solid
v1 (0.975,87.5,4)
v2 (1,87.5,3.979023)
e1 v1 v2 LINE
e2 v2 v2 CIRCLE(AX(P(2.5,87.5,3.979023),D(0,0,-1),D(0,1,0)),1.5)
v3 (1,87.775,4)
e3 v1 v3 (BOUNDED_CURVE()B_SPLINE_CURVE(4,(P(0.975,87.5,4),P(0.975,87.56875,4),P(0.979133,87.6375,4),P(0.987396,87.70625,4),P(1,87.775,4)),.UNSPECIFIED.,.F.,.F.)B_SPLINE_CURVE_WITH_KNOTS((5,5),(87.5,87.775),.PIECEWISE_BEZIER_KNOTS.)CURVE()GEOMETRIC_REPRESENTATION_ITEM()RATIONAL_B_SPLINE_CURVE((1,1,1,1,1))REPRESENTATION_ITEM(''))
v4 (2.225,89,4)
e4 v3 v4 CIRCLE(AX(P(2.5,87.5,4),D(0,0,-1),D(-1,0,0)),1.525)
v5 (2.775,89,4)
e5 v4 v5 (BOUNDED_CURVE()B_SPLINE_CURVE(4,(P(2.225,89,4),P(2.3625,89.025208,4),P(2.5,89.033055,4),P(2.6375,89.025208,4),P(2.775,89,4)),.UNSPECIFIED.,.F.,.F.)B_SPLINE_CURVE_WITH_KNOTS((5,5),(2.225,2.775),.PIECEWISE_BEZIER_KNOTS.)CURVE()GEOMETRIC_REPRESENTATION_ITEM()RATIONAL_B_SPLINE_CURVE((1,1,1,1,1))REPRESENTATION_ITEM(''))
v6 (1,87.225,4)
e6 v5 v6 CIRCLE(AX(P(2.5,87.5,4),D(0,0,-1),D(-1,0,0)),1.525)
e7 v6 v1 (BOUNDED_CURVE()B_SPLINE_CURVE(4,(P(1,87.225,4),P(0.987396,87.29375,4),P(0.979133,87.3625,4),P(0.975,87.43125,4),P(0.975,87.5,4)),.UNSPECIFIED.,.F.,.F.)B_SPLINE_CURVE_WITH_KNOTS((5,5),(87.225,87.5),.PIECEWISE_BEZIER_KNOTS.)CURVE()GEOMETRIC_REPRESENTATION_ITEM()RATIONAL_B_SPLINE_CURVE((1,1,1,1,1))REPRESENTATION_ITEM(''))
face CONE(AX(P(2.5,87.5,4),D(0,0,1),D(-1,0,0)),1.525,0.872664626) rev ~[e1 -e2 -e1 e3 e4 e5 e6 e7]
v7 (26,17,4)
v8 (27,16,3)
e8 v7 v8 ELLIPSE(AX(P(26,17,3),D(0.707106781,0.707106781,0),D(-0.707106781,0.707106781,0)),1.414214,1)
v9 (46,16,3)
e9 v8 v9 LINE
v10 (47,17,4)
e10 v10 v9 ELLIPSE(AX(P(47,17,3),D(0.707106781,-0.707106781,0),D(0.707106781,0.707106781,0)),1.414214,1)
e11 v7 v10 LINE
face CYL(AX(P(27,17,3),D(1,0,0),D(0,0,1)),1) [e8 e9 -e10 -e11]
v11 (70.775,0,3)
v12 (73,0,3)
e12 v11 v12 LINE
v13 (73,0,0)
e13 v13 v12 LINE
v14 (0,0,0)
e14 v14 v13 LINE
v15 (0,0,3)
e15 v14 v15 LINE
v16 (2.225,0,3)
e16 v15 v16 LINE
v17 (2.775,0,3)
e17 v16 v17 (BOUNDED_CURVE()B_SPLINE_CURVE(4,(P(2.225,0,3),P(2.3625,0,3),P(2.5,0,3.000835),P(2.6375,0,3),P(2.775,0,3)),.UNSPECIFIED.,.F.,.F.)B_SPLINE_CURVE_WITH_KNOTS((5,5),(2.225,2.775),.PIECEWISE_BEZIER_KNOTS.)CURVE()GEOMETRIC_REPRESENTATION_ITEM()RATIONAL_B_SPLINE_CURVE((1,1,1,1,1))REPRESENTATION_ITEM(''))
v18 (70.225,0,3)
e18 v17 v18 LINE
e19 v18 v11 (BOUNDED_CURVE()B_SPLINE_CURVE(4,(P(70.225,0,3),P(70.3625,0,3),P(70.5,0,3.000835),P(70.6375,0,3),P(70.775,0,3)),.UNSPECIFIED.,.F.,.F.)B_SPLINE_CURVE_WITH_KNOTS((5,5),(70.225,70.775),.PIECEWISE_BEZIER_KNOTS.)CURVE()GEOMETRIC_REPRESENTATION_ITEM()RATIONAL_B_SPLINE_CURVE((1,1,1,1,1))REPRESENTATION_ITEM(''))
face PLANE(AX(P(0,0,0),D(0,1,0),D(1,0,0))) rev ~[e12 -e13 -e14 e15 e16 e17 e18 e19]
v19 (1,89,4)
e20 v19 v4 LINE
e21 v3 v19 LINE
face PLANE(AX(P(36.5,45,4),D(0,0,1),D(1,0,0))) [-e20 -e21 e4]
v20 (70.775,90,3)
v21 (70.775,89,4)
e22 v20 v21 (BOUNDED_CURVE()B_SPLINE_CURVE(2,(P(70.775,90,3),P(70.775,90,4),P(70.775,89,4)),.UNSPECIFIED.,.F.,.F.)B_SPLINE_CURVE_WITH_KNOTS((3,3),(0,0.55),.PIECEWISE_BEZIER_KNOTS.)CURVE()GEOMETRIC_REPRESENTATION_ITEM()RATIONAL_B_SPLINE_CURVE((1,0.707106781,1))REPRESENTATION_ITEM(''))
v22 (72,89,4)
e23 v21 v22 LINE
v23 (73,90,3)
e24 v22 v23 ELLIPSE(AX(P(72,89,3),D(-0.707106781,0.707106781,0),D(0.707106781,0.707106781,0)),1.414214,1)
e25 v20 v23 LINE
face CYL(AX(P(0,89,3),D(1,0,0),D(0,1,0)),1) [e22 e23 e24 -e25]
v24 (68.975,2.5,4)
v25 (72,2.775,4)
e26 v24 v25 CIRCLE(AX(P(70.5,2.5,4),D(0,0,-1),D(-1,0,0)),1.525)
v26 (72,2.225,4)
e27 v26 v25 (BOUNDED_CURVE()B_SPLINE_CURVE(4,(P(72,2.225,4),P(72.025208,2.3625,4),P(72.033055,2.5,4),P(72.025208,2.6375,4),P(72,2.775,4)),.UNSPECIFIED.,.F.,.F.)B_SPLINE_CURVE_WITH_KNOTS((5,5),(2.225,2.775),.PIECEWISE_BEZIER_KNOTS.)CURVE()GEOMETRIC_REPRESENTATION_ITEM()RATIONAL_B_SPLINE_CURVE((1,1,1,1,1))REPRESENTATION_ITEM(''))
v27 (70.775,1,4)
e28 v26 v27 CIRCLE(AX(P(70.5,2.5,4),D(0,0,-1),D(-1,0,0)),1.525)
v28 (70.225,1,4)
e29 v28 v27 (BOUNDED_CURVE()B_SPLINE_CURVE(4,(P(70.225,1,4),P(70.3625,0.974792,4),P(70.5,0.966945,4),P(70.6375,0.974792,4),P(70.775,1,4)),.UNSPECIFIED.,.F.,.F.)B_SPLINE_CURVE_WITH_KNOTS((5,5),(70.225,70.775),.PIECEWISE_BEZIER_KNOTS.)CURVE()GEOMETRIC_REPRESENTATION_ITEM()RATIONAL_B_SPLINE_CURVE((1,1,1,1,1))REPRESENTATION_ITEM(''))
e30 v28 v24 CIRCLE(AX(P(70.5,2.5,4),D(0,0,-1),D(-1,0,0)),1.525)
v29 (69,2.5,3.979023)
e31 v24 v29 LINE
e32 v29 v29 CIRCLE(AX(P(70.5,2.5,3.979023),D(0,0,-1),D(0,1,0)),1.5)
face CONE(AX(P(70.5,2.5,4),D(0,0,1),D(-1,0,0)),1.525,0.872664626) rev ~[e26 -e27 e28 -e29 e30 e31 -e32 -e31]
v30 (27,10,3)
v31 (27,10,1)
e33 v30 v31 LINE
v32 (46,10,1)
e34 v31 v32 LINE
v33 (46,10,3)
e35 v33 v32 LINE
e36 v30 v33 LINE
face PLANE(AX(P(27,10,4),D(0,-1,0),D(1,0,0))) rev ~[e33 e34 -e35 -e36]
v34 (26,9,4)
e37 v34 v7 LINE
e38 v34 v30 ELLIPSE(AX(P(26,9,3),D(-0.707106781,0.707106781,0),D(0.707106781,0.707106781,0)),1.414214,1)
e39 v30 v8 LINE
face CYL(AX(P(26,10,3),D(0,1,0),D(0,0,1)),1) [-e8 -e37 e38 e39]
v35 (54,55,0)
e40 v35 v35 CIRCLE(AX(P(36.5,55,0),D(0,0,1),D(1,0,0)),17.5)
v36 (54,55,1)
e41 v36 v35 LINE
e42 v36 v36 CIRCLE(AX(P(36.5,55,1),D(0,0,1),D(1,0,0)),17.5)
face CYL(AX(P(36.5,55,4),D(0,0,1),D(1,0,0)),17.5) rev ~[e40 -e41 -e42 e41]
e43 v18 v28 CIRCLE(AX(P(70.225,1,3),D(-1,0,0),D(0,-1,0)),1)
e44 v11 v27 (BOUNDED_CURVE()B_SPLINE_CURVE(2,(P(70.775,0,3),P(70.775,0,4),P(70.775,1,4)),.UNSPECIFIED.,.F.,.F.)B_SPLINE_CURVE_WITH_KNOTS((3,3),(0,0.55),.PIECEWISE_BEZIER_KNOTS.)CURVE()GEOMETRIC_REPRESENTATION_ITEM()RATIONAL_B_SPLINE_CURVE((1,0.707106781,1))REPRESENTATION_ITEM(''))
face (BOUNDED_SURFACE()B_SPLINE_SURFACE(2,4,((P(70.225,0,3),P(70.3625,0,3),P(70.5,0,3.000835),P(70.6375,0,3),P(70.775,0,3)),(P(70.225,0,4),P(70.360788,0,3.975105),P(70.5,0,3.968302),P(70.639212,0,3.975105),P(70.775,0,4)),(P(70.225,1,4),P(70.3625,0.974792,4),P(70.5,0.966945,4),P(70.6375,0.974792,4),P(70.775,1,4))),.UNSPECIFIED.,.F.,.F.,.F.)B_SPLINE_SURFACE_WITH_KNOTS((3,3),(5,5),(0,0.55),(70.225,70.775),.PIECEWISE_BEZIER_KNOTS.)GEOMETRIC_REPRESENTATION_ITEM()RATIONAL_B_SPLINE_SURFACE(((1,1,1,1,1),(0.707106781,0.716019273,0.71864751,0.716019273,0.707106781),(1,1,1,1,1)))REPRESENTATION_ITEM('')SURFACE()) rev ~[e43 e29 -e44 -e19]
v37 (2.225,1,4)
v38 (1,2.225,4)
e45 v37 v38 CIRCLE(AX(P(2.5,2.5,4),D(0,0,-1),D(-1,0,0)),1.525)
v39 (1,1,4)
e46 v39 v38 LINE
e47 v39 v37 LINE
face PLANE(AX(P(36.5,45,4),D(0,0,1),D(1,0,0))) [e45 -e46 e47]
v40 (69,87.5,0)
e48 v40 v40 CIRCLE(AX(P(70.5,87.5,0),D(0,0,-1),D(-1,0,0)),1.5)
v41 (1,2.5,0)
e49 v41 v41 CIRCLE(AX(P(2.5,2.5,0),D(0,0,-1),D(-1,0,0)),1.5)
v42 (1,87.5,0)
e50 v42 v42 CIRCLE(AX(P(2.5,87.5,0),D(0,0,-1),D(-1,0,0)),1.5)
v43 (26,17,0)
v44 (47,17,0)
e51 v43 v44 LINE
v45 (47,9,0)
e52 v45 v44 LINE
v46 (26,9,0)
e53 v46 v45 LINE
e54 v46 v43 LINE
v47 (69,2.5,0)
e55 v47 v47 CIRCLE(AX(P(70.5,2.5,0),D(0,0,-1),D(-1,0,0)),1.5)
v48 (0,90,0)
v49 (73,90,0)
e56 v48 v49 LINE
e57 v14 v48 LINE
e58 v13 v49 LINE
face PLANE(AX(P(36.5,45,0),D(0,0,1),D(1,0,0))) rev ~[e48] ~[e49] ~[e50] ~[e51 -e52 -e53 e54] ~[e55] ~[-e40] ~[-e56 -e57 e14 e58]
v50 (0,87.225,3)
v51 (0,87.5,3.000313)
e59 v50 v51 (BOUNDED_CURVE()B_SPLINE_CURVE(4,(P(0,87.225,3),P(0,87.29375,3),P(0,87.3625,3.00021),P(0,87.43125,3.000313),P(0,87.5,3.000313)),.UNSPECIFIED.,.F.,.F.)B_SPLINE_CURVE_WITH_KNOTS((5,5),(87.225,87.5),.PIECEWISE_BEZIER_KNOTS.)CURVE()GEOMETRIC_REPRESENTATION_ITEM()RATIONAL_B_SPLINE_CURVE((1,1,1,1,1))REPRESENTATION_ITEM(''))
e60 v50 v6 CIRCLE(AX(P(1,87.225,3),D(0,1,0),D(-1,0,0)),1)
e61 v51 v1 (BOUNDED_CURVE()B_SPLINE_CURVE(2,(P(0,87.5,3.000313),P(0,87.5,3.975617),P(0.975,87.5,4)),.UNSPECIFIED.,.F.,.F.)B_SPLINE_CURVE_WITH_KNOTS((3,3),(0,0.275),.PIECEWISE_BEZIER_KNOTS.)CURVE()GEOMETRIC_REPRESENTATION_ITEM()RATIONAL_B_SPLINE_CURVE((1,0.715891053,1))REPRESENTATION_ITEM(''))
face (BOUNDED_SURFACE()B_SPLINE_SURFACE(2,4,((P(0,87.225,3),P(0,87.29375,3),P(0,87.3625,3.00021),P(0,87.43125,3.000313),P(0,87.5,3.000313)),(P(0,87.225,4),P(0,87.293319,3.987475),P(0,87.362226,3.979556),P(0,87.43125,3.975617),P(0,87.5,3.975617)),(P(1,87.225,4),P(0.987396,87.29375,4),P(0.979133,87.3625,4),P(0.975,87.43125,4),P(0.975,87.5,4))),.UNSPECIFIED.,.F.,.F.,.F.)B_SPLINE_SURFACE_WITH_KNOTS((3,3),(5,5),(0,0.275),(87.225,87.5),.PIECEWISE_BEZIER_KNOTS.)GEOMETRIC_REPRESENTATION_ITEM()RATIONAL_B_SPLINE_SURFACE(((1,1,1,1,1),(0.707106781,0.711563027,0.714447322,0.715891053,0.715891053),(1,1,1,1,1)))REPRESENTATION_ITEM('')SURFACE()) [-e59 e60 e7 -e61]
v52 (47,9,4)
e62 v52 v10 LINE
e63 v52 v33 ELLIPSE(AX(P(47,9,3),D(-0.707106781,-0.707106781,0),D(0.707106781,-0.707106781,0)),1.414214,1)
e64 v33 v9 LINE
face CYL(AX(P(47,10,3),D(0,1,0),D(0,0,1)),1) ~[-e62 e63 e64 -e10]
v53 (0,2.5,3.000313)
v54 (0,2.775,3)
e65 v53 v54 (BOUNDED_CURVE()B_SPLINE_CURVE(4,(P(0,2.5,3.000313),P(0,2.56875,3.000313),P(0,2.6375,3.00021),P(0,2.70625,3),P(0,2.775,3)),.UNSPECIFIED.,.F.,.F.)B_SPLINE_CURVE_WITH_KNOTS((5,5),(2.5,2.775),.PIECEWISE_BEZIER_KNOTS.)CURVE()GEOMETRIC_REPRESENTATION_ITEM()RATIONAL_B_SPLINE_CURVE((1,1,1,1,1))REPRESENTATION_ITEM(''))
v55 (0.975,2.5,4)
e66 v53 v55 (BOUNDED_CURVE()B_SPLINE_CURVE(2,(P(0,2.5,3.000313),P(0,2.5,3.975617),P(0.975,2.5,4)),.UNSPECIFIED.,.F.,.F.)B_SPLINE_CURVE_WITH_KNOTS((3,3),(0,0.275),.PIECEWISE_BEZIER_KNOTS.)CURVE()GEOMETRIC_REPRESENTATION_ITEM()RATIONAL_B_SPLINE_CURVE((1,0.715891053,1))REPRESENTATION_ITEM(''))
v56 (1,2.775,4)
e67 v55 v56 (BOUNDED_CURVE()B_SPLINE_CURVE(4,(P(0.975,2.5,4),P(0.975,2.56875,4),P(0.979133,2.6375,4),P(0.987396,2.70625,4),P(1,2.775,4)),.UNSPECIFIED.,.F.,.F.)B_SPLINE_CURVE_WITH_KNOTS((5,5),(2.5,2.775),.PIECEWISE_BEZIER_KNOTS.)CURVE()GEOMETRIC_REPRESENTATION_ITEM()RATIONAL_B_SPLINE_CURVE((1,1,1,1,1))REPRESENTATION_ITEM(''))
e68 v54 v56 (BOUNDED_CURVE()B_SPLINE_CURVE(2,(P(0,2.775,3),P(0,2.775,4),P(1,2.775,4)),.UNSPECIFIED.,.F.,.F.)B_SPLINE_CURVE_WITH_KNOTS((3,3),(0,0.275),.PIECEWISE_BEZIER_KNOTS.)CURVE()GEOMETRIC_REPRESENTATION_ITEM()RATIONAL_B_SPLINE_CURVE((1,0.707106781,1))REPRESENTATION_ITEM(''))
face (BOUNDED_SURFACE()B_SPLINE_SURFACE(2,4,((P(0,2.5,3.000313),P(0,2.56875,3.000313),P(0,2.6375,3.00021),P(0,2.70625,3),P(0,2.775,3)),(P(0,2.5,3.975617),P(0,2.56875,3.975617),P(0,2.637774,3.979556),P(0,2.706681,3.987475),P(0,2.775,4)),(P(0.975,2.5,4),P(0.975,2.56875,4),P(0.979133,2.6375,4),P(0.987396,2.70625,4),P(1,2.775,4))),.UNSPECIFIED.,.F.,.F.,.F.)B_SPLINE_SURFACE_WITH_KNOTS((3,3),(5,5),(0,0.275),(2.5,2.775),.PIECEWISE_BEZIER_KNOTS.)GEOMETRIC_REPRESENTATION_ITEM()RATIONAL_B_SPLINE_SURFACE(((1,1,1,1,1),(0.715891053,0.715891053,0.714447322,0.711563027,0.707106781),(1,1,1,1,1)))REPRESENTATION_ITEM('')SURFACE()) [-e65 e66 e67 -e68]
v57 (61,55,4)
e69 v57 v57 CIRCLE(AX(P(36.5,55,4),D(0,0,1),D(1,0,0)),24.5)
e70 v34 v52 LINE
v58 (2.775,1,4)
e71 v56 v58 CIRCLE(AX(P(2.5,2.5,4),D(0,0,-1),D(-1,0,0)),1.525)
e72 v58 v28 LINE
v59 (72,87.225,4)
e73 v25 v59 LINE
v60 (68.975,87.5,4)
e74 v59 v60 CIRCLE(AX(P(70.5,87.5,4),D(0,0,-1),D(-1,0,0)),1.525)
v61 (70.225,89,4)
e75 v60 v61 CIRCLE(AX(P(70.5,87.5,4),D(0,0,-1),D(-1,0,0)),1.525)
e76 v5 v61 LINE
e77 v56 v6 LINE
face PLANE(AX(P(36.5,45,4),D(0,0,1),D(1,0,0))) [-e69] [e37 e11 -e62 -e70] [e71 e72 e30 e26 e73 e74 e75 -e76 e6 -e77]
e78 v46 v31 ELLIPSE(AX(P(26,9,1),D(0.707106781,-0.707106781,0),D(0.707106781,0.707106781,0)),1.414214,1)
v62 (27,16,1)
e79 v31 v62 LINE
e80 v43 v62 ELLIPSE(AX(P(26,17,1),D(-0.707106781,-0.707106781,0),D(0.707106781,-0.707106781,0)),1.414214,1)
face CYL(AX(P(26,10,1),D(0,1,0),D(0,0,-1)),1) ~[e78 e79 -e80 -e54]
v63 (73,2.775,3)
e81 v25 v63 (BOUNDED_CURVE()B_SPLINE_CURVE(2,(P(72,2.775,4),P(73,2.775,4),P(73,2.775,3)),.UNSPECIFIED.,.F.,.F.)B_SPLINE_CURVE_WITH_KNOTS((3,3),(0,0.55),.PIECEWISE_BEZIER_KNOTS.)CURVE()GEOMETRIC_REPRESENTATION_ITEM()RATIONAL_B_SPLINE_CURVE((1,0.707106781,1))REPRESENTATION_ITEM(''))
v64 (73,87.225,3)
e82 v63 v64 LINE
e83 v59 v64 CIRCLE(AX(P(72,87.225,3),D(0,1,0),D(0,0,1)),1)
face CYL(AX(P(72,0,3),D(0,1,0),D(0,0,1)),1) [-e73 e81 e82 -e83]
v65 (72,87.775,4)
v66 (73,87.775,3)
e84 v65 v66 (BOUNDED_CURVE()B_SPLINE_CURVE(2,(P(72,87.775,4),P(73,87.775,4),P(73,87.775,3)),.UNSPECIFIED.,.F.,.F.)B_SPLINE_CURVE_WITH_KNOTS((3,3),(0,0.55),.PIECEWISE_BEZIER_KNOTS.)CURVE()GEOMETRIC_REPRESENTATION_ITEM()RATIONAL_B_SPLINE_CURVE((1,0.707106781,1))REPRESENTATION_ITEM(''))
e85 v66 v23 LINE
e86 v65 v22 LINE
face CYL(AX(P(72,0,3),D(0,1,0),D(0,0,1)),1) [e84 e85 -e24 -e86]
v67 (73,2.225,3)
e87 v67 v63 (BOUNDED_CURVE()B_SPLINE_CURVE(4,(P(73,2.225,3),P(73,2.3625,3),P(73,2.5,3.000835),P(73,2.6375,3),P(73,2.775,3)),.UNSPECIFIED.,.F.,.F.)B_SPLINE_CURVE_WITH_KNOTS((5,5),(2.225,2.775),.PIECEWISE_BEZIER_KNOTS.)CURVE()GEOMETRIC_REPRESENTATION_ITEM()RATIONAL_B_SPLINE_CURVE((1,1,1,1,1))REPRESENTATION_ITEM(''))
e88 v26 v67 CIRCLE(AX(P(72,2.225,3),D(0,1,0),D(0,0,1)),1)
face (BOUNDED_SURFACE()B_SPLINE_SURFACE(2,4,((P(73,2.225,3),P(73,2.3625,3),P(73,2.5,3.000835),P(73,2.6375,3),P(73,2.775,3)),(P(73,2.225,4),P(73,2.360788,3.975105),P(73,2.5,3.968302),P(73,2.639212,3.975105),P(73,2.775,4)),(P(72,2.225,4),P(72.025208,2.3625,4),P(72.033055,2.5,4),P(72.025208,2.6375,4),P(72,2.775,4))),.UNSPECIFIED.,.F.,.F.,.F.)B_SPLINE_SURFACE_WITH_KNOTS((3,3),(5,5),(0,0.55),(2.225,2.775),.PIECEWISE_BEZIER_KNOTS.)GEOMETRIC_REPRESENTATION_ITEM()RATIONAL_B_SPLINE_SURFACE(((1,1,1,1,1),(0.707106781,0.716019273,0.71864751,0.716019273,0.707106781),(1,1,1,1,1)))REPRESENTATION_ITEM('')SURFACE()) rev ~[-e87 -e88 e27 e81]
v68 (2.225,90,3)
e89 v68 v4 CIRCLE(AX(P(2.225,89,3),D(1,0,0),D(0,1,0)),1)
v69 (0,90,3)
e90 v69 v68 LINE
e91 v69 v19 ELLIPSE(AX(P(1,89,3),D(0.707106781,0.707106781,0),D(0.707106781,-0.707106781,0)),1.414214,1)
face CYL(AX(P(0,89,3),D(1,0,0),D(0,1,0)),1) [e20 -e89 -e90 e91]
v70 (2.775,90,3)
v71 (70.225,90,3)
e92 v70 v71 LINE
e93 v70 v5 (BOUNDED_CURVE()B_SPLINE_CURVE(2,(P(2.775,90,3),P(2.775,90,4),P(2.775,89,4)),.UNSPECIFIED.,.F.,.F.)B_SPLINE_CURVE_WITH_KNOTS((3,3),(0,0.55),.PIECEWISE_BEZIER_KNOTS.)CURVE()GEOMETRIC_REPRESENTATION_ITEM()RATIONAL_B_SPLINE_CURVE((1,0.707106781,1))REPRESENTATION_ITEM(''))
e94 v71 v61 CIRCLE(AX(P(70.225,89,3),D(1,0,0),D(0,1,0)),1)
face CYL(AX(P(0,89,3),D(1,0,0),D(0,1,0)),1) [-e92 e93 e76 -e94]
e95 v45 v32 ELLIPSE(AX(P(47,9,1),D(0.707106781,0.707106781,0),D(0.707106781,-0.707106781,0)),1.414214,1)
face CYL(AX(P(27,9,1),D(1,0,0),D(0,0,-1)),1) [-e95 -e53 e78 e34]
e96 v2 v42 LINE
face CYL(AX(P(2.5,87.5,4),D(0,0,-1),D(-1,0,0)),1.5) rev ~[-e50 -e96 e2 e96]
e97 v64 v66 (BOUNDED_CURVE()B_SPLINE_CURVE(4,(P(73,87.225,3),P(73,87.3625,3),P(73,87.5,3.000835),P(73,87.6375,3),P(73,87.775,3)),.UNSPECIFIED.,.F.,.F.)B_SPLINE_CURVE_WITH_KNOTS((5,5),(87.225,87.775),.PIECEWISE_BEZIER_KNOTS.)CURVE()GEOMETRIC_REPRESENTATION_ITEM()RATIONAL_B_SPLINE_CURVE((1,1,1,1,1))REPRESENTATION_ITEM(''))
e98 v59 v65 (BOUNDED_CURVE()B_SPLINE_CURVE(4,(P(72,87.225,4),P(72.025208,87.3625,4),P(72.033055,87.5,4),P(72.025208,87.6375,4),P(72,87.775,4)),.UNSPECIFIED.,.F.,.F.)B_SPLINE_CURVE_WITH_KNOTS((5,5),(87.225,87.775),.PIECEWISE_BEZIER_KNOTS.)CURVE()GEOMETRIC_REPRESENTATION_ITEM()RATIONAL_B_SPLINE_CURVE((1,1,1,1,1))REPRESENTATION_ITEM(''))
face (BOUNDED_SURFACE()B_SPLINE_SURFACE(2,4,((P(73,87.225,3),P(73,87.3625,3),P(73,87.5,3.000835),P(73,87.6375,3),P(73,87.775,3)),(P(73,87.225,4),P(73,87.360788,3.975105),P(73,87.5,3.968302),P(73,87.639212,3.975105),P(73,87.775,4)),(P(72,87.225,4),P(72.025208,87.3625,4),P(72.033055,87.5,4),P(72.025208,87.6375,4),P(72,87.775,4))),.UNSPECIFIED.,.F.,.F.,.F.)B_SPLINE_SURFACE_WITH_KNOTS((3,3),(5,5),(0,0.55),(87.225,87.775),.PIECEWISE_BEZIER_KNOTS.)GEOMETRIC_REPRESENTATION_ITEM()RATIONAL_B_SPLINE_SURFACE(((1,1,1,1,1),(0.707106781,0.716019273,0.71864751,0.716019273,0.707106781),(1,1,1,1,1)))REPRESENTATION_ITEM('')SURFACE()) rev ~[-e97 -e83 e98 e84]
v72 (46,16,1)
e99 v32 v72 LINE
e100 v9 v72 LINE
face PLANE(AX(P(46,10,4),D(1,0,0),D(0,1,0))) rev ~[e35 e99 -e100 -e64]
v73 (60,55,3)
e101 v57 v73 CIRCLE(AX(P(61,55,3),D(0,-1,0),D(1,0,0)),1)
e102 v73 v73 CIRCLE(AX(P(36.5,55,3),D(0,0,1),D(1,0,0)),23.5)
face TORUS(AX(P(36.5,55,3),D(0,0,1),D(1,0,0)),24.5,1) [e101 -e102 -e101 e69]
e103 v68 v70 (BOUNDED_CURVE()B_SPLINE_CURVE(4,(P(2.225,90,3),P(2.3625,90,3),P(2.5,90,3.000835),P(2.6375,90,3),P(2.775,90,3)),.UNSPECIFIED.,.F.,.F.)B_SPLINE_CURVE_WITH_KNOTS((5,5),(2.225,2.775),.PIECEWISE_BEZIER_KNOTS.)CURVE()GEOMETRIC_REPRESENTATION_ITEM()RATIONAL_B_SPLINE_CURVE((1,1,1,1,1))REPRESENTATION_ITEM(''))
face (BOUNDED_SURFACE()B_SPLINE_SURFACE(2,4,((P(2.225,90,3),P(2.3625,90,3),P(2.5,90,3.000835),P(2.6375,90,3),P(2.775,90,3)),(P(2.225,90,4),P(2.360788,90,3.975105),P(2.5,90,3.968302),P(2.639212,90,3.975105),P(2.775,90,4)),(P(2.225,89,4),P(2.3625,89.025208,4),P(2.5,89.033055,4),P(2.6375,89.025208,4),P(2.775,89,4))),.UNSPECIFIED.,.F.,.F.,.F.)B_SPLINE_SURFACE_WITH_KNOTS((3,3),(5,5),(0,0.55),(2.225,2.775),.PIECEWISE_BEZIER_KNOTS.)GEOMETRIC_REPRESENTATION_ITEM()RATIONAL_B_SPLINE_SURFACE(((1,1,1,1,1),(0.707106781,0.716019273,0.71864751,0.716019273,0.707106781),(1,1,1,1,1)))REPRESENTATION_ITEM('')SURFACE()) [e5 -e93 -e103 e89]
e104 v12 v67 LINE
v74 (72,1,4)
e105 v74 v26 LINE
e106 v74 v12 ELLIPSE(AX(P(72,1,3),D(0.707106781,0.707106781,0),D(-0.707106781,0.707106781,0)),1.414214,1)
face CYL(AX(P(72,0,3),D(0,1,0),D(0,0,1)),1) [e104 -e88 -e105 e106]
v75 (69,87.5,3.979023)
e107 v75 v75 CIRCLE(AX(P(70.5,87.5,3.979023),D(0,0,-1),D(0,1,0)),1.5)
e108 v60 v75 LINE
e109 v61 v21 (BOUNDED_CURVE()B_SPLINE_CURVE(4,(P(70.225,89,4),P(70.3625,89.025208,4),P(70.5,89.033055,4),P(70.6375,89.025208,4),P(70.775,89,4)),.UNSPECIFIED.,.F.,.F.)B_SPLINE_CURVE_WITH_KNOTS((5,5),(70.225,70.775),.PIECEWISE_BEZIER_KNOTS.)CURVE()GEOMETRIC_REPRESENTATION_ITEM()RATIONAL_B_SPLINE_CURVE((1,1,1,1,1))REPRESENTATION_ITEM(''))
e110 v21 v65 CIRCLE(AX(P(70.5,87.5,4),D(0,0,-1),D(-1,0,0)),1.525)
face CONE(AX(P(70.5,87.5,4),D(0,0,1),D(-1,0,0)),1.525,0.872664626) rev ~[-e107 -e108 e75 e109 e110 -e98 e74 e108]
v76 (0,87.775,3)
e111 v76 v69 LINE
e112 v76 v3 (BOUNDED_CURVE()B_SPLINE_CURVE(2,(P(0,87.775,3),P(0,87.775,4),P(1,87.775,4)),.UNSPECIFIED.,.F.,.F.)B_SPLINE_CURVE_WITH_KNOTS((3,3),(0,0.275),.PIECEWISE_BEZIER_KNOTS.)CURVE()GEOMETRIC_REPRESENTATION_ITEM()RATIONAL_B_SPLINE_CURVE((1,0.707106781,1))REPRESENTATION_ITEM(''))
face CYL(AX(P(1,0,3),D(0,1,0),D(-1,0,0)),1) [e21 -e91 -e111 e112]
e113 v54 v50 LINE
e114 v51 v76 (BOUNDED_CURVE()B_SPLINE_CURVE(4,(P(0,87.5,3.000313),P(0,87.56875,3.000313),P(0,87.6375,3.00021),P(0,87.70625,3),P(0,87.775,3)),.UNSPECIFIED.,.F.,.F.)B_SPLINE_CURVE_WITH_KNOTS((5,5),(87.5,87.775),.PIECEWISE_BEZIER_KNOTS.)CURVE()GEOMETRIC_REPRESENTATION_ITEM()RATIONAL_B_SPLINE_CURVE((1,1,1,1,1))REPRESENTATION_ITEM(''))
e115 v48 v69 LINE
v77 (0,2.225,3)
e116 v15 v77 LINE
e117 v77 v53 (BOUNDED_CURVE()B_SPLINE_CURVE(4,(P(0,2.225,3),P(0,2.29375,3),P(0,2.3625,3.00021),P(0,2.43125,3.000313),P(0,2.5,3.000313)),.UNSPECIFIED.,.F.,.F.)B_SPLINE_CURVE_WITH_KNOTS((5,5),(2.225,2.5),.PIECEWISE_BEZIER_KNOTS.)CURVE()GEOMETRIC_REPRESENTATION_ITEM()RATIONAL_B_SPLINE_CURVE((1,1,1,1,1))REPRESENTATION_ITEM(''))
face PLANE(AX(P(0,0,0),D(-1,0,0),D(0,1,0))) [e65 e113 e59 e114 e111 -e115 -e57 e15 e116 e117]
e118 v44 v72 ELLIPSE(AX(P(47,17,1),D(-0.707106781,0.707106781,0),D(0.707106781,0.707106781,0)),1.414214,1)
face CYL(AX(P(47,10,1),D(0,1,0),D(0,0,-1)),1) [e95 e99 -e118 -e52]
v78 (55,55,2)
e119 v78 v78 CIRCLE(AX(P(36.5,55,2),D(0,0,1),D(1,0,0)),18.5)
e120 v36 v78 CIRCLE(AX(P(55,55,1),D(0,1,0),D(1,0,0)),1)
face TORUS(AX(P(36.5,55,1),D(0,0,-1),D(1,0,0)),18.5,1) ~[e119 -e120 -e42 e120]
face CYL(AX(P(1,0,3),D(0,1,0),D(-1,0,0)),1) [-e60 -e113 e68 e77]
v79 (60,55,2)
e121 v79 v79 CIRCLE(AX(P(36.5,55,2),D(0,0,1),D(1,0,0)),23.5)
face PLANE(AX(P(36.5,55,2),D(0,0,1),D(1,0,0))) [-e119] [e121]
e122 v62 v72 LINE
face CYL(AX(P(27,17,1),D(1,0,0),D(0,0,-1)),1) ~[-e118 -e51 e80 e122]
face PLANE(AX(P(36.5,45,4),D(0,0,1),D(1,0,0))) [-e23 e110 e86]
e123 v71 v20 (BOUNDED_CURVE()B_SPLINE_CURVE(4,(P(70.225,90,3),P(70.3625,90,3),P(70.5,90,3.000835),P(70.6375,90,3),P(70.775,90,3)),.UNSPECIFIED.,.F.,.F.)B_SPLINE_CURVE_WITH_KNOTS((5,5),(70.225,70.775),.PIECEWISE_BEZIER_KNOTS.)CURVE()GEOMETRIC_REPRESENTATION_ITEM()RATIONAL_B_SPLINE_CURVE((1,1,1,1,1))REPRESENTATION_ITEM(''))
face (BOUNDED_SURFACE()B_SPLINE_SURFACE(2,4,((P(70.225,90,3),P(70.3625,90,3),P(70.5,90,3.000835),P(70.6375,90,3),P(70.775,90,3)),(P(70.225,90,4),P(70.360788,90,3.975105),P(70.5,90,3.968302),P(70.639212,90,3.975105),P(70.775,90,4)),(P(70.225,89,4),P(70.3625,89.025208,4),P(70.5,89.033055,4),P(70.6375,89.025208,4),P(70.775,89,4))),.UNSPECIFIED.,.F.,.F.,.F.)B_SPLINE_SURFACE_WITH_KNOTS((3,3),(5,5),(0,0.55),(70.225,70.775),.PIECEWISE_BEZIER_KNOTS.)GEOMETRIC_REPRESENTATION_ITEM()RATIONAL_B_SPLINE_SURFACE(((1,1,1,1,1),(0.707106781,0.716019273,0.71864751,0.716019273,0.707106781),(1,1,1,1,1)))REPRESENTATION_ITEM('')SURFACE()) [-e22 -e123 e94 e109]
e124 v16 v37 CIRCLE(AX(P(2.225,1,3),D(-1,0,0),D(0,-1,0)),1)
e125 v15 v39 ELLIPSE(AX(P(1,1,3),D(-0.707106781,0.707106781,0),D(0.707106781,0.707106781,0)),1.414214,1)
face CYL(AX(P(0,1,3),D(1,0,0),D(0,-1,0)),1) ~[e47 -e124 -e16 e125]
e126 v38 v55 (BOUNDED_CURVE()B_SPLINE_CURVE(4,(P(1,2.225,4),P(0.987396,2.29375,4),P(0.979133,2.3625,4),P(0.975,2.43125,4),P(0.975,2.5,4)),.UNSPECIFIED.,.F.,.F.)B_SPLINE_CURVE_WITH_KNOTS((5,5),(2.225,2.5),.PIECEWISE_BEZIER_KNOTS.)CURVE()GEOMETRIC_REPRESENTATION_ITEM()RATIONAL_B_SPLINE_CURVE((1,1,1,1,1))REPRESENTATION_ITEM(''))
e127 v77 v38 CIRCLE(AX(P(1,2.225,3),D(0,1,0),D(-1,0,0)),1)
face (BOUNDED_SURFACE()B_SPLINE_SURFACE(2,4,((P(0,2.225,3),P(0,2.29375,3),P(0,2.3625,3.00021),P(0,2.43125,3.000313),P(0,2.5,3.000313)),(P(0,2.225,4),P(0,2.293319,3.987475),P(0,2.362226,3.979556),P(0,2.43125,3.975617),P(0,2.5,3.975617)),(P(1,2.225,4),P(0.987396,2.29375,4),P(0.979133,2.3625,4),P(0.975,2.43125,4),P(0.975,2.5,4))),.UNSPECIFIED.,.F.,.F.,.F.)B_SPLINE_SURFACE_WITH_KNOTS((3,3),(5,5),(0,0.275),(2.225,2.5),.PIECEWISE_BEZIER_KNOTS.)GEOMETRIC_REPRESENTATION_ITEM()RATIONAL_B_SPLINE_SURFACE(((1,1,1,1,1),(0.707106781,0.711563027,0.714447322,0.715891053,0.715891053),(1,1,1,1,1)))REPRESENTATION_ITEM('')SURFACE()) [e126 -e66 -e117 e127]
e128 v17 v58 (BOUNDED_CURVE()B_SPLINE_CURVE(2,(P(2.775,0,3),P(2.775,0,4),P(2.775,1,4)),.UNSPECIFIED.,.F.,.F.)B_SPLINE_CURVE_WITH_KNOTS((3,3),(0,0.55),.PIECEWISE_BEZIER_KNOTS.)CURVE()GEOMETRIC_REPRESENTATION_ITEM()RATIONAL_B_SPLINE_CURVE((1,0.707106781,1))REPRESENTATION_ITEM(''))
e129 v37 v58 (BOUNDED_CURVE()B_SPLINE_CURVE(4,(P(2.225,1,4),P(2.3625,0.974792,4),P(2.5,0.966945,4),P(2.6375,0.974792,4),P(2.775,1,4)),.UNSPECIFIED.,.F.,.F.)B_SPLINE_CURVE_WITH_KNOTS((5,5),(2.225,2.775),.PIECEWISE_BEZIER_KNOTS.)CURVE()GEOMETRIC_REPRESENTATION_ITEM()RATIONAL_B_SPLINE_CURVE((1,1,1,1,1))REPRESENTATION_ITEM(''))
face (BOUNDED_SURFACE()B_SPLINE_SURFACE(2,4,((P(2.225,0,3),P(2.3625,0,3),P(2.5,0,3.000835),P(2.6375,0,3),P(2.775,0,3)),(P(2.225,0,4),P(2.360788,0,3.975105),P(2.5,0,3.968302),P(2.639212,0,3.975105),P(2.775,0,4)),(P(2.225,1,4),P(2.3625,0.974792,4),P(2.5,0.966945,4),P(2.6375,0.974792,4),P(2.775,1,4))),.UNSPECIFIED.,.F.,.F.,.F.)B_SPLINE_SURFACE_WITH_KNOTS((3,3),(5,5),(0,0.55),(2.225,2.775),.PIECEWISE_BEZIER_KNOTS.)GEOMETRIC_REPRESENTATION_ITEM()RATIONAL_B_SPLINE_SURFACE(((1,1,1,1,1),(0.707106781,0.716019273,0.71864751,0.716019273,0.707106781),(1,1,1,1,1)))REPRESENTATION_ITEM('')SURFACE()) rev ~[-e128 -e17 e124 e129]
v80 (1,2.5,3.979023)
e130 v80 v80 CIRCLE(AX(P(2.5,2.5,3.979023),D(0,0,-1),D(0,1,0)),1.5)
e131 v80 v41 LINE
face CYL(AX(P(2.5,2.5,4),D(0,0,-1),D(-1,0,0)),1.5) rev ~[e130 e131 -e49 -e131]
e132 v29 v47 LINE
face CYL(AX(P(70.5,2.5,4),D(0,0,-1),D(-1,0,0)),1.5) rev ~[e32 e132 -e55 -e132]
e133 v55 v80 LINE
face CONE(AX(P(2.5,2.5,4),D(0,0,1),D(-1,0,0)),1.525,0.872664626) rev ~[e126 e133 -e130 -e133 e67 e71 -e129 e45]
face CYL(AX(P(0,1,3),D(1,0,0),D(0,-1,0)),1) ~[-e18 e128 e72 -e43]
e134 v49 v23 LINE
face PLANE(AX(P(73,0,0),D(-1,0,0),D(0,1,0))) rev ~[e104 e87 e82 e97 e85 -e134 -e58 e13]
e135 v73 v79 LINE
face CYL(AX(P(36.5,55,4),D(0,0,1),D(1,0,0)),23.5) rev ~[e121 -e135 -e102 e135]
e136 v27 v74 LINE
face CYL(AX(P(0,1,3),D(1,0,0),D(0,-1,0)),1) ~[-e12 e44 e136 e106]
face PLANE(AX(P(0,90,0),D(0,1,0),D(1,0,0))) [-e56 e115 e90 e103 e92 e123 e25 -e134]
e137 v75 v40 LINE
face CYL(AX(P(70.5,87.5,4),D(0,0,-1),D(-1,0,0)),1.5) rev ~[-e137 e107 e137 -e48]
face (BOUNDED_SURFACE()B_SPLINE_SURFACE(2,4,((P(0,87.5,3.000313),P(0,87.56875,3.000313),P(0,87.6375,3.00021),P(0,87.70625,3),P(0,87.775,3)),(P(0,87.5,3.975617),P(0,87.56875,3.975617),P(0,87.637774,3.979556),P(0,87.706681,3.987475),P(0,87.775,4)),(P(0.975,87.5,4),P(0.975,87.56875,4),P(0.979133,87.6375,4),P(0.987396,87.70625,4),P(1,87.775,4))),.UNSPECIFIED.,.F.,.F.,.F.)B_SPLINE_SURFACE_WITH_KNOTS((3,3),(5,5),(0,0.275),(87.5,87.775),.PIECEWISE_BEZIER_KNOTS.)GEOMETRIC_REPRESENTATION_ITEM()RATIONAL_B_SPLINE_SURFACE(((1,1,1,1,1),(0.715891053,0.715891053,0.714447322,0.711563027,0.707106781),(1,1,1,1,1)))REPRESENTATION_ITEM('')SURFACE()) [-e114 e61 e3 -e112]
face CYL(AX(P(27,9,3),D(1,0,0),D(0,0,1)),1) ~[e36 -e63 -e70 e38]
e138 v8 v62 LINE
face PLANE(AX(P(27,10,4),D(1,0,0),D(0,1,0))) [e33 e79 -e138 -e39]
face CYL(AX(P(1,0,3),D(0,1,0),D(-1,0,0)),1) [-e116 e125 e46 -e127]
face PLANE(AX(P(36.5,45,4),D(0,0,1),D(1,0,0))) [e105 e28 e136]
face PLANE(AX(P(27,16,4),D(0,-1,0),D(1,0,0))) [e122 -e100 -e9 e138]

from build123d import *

# Parameters (mm, degrees)
SKETCH_1_W          = 73
SKETCH_1_H          = 90
EXTRUDE_1_DEPTH     = 4
MM_1_D              = 3
MM_1_CSINK_D        = 3.05
MM_1_CSINK_ANGLE    = 100
SKETCH_5_R          = 17.5
CUT_EXTRUDE_3_DEPTH = 116.952576513
SKETCH_9_R          = 23.5
CUT_EXTRUDE_4_DEPTH = 2
SKETCH_10_W         = 19
SKETCH_10_H         = 6
CUT_EXTRUDE_5_DEPTH = 10
FILLET_1_R          = 1


with BuildPart() as part:
    # 草图1 → 凸台-拉伸1 (new body)
    with BuildSketch(Plane.XY):
        with Locations((36.5, 45)):
            Rectangle(SKETCH_1_W, SKETCH_1_H)
    extrude(amount=EXTRUDE_1_DEPTH)

    # 大小mm 暗销孔1 (through all)
    with Locations(Plane.XY.offset(4)):
        with Locations((2.5, 2.5), (70.5, 2.5), (70.5, 87.5), (2.5, 87.5)):
            CounterSinkHole(MM_1_D / 2, MM_1_CSINK_D / 2, counter_sink_angle=MM_1_CSINK_ANGLE)

    # 草图5 → 切除-拉伸3 (cut, through all)
    with BuildSketch(Plane.XY.offset(4)):
        with Locations((36.5, 55)):
            Circle(SKETCH_5_R)
    extrude(amount=-CUT_EXTRUDE_3_DEPTH, mode=Mode.SUBTRACT)

    # 草图9 → 切除-拉伸4 (cut)
    with BuildSketch(Plane.XY.offset(4)):
        with Locations((36.5, 55)):
            Circle(SKETCH_9_R)
    extrude(amount=-CUT_EXTRUDE_4_DEPTH, mode=Mode.SUBTRACT)

    # 草图10 → 切除-拉伸5 (cut)
    with BuildSketch(Plane.XY.offset(4)):
        with Locations((36.5, 13)):
            Rectangle(SKETCH_10_W, SKETCH_10_H)
    extrude(amount=-CUT_EXTRUDE_5_DEPTH, mode=Mode.SUBTRACT)

    # 圆角1
    fillet_1_edges = [part.edges().sort_by_distance(p)[0] for p in [
        (73, 45, 4),
        (36.5, 90, 4),
        (0, 45, 4),
        (13, 55, 4),
        (19, 55, 2),
        (36.5, 10, 0),
        (46, 13, 0),
        (36.5, 16, 0),
        (27, 13, 0),
        (27, 13, 4),
        (36.5, 10, 4),
        (46, 13, 4),
        (36.5, 16, 4),
        (36.5, 0, 4),
    ]]
    fillet(fillet_1_edges, radius=FILLET_1_R)


solid = part.part
